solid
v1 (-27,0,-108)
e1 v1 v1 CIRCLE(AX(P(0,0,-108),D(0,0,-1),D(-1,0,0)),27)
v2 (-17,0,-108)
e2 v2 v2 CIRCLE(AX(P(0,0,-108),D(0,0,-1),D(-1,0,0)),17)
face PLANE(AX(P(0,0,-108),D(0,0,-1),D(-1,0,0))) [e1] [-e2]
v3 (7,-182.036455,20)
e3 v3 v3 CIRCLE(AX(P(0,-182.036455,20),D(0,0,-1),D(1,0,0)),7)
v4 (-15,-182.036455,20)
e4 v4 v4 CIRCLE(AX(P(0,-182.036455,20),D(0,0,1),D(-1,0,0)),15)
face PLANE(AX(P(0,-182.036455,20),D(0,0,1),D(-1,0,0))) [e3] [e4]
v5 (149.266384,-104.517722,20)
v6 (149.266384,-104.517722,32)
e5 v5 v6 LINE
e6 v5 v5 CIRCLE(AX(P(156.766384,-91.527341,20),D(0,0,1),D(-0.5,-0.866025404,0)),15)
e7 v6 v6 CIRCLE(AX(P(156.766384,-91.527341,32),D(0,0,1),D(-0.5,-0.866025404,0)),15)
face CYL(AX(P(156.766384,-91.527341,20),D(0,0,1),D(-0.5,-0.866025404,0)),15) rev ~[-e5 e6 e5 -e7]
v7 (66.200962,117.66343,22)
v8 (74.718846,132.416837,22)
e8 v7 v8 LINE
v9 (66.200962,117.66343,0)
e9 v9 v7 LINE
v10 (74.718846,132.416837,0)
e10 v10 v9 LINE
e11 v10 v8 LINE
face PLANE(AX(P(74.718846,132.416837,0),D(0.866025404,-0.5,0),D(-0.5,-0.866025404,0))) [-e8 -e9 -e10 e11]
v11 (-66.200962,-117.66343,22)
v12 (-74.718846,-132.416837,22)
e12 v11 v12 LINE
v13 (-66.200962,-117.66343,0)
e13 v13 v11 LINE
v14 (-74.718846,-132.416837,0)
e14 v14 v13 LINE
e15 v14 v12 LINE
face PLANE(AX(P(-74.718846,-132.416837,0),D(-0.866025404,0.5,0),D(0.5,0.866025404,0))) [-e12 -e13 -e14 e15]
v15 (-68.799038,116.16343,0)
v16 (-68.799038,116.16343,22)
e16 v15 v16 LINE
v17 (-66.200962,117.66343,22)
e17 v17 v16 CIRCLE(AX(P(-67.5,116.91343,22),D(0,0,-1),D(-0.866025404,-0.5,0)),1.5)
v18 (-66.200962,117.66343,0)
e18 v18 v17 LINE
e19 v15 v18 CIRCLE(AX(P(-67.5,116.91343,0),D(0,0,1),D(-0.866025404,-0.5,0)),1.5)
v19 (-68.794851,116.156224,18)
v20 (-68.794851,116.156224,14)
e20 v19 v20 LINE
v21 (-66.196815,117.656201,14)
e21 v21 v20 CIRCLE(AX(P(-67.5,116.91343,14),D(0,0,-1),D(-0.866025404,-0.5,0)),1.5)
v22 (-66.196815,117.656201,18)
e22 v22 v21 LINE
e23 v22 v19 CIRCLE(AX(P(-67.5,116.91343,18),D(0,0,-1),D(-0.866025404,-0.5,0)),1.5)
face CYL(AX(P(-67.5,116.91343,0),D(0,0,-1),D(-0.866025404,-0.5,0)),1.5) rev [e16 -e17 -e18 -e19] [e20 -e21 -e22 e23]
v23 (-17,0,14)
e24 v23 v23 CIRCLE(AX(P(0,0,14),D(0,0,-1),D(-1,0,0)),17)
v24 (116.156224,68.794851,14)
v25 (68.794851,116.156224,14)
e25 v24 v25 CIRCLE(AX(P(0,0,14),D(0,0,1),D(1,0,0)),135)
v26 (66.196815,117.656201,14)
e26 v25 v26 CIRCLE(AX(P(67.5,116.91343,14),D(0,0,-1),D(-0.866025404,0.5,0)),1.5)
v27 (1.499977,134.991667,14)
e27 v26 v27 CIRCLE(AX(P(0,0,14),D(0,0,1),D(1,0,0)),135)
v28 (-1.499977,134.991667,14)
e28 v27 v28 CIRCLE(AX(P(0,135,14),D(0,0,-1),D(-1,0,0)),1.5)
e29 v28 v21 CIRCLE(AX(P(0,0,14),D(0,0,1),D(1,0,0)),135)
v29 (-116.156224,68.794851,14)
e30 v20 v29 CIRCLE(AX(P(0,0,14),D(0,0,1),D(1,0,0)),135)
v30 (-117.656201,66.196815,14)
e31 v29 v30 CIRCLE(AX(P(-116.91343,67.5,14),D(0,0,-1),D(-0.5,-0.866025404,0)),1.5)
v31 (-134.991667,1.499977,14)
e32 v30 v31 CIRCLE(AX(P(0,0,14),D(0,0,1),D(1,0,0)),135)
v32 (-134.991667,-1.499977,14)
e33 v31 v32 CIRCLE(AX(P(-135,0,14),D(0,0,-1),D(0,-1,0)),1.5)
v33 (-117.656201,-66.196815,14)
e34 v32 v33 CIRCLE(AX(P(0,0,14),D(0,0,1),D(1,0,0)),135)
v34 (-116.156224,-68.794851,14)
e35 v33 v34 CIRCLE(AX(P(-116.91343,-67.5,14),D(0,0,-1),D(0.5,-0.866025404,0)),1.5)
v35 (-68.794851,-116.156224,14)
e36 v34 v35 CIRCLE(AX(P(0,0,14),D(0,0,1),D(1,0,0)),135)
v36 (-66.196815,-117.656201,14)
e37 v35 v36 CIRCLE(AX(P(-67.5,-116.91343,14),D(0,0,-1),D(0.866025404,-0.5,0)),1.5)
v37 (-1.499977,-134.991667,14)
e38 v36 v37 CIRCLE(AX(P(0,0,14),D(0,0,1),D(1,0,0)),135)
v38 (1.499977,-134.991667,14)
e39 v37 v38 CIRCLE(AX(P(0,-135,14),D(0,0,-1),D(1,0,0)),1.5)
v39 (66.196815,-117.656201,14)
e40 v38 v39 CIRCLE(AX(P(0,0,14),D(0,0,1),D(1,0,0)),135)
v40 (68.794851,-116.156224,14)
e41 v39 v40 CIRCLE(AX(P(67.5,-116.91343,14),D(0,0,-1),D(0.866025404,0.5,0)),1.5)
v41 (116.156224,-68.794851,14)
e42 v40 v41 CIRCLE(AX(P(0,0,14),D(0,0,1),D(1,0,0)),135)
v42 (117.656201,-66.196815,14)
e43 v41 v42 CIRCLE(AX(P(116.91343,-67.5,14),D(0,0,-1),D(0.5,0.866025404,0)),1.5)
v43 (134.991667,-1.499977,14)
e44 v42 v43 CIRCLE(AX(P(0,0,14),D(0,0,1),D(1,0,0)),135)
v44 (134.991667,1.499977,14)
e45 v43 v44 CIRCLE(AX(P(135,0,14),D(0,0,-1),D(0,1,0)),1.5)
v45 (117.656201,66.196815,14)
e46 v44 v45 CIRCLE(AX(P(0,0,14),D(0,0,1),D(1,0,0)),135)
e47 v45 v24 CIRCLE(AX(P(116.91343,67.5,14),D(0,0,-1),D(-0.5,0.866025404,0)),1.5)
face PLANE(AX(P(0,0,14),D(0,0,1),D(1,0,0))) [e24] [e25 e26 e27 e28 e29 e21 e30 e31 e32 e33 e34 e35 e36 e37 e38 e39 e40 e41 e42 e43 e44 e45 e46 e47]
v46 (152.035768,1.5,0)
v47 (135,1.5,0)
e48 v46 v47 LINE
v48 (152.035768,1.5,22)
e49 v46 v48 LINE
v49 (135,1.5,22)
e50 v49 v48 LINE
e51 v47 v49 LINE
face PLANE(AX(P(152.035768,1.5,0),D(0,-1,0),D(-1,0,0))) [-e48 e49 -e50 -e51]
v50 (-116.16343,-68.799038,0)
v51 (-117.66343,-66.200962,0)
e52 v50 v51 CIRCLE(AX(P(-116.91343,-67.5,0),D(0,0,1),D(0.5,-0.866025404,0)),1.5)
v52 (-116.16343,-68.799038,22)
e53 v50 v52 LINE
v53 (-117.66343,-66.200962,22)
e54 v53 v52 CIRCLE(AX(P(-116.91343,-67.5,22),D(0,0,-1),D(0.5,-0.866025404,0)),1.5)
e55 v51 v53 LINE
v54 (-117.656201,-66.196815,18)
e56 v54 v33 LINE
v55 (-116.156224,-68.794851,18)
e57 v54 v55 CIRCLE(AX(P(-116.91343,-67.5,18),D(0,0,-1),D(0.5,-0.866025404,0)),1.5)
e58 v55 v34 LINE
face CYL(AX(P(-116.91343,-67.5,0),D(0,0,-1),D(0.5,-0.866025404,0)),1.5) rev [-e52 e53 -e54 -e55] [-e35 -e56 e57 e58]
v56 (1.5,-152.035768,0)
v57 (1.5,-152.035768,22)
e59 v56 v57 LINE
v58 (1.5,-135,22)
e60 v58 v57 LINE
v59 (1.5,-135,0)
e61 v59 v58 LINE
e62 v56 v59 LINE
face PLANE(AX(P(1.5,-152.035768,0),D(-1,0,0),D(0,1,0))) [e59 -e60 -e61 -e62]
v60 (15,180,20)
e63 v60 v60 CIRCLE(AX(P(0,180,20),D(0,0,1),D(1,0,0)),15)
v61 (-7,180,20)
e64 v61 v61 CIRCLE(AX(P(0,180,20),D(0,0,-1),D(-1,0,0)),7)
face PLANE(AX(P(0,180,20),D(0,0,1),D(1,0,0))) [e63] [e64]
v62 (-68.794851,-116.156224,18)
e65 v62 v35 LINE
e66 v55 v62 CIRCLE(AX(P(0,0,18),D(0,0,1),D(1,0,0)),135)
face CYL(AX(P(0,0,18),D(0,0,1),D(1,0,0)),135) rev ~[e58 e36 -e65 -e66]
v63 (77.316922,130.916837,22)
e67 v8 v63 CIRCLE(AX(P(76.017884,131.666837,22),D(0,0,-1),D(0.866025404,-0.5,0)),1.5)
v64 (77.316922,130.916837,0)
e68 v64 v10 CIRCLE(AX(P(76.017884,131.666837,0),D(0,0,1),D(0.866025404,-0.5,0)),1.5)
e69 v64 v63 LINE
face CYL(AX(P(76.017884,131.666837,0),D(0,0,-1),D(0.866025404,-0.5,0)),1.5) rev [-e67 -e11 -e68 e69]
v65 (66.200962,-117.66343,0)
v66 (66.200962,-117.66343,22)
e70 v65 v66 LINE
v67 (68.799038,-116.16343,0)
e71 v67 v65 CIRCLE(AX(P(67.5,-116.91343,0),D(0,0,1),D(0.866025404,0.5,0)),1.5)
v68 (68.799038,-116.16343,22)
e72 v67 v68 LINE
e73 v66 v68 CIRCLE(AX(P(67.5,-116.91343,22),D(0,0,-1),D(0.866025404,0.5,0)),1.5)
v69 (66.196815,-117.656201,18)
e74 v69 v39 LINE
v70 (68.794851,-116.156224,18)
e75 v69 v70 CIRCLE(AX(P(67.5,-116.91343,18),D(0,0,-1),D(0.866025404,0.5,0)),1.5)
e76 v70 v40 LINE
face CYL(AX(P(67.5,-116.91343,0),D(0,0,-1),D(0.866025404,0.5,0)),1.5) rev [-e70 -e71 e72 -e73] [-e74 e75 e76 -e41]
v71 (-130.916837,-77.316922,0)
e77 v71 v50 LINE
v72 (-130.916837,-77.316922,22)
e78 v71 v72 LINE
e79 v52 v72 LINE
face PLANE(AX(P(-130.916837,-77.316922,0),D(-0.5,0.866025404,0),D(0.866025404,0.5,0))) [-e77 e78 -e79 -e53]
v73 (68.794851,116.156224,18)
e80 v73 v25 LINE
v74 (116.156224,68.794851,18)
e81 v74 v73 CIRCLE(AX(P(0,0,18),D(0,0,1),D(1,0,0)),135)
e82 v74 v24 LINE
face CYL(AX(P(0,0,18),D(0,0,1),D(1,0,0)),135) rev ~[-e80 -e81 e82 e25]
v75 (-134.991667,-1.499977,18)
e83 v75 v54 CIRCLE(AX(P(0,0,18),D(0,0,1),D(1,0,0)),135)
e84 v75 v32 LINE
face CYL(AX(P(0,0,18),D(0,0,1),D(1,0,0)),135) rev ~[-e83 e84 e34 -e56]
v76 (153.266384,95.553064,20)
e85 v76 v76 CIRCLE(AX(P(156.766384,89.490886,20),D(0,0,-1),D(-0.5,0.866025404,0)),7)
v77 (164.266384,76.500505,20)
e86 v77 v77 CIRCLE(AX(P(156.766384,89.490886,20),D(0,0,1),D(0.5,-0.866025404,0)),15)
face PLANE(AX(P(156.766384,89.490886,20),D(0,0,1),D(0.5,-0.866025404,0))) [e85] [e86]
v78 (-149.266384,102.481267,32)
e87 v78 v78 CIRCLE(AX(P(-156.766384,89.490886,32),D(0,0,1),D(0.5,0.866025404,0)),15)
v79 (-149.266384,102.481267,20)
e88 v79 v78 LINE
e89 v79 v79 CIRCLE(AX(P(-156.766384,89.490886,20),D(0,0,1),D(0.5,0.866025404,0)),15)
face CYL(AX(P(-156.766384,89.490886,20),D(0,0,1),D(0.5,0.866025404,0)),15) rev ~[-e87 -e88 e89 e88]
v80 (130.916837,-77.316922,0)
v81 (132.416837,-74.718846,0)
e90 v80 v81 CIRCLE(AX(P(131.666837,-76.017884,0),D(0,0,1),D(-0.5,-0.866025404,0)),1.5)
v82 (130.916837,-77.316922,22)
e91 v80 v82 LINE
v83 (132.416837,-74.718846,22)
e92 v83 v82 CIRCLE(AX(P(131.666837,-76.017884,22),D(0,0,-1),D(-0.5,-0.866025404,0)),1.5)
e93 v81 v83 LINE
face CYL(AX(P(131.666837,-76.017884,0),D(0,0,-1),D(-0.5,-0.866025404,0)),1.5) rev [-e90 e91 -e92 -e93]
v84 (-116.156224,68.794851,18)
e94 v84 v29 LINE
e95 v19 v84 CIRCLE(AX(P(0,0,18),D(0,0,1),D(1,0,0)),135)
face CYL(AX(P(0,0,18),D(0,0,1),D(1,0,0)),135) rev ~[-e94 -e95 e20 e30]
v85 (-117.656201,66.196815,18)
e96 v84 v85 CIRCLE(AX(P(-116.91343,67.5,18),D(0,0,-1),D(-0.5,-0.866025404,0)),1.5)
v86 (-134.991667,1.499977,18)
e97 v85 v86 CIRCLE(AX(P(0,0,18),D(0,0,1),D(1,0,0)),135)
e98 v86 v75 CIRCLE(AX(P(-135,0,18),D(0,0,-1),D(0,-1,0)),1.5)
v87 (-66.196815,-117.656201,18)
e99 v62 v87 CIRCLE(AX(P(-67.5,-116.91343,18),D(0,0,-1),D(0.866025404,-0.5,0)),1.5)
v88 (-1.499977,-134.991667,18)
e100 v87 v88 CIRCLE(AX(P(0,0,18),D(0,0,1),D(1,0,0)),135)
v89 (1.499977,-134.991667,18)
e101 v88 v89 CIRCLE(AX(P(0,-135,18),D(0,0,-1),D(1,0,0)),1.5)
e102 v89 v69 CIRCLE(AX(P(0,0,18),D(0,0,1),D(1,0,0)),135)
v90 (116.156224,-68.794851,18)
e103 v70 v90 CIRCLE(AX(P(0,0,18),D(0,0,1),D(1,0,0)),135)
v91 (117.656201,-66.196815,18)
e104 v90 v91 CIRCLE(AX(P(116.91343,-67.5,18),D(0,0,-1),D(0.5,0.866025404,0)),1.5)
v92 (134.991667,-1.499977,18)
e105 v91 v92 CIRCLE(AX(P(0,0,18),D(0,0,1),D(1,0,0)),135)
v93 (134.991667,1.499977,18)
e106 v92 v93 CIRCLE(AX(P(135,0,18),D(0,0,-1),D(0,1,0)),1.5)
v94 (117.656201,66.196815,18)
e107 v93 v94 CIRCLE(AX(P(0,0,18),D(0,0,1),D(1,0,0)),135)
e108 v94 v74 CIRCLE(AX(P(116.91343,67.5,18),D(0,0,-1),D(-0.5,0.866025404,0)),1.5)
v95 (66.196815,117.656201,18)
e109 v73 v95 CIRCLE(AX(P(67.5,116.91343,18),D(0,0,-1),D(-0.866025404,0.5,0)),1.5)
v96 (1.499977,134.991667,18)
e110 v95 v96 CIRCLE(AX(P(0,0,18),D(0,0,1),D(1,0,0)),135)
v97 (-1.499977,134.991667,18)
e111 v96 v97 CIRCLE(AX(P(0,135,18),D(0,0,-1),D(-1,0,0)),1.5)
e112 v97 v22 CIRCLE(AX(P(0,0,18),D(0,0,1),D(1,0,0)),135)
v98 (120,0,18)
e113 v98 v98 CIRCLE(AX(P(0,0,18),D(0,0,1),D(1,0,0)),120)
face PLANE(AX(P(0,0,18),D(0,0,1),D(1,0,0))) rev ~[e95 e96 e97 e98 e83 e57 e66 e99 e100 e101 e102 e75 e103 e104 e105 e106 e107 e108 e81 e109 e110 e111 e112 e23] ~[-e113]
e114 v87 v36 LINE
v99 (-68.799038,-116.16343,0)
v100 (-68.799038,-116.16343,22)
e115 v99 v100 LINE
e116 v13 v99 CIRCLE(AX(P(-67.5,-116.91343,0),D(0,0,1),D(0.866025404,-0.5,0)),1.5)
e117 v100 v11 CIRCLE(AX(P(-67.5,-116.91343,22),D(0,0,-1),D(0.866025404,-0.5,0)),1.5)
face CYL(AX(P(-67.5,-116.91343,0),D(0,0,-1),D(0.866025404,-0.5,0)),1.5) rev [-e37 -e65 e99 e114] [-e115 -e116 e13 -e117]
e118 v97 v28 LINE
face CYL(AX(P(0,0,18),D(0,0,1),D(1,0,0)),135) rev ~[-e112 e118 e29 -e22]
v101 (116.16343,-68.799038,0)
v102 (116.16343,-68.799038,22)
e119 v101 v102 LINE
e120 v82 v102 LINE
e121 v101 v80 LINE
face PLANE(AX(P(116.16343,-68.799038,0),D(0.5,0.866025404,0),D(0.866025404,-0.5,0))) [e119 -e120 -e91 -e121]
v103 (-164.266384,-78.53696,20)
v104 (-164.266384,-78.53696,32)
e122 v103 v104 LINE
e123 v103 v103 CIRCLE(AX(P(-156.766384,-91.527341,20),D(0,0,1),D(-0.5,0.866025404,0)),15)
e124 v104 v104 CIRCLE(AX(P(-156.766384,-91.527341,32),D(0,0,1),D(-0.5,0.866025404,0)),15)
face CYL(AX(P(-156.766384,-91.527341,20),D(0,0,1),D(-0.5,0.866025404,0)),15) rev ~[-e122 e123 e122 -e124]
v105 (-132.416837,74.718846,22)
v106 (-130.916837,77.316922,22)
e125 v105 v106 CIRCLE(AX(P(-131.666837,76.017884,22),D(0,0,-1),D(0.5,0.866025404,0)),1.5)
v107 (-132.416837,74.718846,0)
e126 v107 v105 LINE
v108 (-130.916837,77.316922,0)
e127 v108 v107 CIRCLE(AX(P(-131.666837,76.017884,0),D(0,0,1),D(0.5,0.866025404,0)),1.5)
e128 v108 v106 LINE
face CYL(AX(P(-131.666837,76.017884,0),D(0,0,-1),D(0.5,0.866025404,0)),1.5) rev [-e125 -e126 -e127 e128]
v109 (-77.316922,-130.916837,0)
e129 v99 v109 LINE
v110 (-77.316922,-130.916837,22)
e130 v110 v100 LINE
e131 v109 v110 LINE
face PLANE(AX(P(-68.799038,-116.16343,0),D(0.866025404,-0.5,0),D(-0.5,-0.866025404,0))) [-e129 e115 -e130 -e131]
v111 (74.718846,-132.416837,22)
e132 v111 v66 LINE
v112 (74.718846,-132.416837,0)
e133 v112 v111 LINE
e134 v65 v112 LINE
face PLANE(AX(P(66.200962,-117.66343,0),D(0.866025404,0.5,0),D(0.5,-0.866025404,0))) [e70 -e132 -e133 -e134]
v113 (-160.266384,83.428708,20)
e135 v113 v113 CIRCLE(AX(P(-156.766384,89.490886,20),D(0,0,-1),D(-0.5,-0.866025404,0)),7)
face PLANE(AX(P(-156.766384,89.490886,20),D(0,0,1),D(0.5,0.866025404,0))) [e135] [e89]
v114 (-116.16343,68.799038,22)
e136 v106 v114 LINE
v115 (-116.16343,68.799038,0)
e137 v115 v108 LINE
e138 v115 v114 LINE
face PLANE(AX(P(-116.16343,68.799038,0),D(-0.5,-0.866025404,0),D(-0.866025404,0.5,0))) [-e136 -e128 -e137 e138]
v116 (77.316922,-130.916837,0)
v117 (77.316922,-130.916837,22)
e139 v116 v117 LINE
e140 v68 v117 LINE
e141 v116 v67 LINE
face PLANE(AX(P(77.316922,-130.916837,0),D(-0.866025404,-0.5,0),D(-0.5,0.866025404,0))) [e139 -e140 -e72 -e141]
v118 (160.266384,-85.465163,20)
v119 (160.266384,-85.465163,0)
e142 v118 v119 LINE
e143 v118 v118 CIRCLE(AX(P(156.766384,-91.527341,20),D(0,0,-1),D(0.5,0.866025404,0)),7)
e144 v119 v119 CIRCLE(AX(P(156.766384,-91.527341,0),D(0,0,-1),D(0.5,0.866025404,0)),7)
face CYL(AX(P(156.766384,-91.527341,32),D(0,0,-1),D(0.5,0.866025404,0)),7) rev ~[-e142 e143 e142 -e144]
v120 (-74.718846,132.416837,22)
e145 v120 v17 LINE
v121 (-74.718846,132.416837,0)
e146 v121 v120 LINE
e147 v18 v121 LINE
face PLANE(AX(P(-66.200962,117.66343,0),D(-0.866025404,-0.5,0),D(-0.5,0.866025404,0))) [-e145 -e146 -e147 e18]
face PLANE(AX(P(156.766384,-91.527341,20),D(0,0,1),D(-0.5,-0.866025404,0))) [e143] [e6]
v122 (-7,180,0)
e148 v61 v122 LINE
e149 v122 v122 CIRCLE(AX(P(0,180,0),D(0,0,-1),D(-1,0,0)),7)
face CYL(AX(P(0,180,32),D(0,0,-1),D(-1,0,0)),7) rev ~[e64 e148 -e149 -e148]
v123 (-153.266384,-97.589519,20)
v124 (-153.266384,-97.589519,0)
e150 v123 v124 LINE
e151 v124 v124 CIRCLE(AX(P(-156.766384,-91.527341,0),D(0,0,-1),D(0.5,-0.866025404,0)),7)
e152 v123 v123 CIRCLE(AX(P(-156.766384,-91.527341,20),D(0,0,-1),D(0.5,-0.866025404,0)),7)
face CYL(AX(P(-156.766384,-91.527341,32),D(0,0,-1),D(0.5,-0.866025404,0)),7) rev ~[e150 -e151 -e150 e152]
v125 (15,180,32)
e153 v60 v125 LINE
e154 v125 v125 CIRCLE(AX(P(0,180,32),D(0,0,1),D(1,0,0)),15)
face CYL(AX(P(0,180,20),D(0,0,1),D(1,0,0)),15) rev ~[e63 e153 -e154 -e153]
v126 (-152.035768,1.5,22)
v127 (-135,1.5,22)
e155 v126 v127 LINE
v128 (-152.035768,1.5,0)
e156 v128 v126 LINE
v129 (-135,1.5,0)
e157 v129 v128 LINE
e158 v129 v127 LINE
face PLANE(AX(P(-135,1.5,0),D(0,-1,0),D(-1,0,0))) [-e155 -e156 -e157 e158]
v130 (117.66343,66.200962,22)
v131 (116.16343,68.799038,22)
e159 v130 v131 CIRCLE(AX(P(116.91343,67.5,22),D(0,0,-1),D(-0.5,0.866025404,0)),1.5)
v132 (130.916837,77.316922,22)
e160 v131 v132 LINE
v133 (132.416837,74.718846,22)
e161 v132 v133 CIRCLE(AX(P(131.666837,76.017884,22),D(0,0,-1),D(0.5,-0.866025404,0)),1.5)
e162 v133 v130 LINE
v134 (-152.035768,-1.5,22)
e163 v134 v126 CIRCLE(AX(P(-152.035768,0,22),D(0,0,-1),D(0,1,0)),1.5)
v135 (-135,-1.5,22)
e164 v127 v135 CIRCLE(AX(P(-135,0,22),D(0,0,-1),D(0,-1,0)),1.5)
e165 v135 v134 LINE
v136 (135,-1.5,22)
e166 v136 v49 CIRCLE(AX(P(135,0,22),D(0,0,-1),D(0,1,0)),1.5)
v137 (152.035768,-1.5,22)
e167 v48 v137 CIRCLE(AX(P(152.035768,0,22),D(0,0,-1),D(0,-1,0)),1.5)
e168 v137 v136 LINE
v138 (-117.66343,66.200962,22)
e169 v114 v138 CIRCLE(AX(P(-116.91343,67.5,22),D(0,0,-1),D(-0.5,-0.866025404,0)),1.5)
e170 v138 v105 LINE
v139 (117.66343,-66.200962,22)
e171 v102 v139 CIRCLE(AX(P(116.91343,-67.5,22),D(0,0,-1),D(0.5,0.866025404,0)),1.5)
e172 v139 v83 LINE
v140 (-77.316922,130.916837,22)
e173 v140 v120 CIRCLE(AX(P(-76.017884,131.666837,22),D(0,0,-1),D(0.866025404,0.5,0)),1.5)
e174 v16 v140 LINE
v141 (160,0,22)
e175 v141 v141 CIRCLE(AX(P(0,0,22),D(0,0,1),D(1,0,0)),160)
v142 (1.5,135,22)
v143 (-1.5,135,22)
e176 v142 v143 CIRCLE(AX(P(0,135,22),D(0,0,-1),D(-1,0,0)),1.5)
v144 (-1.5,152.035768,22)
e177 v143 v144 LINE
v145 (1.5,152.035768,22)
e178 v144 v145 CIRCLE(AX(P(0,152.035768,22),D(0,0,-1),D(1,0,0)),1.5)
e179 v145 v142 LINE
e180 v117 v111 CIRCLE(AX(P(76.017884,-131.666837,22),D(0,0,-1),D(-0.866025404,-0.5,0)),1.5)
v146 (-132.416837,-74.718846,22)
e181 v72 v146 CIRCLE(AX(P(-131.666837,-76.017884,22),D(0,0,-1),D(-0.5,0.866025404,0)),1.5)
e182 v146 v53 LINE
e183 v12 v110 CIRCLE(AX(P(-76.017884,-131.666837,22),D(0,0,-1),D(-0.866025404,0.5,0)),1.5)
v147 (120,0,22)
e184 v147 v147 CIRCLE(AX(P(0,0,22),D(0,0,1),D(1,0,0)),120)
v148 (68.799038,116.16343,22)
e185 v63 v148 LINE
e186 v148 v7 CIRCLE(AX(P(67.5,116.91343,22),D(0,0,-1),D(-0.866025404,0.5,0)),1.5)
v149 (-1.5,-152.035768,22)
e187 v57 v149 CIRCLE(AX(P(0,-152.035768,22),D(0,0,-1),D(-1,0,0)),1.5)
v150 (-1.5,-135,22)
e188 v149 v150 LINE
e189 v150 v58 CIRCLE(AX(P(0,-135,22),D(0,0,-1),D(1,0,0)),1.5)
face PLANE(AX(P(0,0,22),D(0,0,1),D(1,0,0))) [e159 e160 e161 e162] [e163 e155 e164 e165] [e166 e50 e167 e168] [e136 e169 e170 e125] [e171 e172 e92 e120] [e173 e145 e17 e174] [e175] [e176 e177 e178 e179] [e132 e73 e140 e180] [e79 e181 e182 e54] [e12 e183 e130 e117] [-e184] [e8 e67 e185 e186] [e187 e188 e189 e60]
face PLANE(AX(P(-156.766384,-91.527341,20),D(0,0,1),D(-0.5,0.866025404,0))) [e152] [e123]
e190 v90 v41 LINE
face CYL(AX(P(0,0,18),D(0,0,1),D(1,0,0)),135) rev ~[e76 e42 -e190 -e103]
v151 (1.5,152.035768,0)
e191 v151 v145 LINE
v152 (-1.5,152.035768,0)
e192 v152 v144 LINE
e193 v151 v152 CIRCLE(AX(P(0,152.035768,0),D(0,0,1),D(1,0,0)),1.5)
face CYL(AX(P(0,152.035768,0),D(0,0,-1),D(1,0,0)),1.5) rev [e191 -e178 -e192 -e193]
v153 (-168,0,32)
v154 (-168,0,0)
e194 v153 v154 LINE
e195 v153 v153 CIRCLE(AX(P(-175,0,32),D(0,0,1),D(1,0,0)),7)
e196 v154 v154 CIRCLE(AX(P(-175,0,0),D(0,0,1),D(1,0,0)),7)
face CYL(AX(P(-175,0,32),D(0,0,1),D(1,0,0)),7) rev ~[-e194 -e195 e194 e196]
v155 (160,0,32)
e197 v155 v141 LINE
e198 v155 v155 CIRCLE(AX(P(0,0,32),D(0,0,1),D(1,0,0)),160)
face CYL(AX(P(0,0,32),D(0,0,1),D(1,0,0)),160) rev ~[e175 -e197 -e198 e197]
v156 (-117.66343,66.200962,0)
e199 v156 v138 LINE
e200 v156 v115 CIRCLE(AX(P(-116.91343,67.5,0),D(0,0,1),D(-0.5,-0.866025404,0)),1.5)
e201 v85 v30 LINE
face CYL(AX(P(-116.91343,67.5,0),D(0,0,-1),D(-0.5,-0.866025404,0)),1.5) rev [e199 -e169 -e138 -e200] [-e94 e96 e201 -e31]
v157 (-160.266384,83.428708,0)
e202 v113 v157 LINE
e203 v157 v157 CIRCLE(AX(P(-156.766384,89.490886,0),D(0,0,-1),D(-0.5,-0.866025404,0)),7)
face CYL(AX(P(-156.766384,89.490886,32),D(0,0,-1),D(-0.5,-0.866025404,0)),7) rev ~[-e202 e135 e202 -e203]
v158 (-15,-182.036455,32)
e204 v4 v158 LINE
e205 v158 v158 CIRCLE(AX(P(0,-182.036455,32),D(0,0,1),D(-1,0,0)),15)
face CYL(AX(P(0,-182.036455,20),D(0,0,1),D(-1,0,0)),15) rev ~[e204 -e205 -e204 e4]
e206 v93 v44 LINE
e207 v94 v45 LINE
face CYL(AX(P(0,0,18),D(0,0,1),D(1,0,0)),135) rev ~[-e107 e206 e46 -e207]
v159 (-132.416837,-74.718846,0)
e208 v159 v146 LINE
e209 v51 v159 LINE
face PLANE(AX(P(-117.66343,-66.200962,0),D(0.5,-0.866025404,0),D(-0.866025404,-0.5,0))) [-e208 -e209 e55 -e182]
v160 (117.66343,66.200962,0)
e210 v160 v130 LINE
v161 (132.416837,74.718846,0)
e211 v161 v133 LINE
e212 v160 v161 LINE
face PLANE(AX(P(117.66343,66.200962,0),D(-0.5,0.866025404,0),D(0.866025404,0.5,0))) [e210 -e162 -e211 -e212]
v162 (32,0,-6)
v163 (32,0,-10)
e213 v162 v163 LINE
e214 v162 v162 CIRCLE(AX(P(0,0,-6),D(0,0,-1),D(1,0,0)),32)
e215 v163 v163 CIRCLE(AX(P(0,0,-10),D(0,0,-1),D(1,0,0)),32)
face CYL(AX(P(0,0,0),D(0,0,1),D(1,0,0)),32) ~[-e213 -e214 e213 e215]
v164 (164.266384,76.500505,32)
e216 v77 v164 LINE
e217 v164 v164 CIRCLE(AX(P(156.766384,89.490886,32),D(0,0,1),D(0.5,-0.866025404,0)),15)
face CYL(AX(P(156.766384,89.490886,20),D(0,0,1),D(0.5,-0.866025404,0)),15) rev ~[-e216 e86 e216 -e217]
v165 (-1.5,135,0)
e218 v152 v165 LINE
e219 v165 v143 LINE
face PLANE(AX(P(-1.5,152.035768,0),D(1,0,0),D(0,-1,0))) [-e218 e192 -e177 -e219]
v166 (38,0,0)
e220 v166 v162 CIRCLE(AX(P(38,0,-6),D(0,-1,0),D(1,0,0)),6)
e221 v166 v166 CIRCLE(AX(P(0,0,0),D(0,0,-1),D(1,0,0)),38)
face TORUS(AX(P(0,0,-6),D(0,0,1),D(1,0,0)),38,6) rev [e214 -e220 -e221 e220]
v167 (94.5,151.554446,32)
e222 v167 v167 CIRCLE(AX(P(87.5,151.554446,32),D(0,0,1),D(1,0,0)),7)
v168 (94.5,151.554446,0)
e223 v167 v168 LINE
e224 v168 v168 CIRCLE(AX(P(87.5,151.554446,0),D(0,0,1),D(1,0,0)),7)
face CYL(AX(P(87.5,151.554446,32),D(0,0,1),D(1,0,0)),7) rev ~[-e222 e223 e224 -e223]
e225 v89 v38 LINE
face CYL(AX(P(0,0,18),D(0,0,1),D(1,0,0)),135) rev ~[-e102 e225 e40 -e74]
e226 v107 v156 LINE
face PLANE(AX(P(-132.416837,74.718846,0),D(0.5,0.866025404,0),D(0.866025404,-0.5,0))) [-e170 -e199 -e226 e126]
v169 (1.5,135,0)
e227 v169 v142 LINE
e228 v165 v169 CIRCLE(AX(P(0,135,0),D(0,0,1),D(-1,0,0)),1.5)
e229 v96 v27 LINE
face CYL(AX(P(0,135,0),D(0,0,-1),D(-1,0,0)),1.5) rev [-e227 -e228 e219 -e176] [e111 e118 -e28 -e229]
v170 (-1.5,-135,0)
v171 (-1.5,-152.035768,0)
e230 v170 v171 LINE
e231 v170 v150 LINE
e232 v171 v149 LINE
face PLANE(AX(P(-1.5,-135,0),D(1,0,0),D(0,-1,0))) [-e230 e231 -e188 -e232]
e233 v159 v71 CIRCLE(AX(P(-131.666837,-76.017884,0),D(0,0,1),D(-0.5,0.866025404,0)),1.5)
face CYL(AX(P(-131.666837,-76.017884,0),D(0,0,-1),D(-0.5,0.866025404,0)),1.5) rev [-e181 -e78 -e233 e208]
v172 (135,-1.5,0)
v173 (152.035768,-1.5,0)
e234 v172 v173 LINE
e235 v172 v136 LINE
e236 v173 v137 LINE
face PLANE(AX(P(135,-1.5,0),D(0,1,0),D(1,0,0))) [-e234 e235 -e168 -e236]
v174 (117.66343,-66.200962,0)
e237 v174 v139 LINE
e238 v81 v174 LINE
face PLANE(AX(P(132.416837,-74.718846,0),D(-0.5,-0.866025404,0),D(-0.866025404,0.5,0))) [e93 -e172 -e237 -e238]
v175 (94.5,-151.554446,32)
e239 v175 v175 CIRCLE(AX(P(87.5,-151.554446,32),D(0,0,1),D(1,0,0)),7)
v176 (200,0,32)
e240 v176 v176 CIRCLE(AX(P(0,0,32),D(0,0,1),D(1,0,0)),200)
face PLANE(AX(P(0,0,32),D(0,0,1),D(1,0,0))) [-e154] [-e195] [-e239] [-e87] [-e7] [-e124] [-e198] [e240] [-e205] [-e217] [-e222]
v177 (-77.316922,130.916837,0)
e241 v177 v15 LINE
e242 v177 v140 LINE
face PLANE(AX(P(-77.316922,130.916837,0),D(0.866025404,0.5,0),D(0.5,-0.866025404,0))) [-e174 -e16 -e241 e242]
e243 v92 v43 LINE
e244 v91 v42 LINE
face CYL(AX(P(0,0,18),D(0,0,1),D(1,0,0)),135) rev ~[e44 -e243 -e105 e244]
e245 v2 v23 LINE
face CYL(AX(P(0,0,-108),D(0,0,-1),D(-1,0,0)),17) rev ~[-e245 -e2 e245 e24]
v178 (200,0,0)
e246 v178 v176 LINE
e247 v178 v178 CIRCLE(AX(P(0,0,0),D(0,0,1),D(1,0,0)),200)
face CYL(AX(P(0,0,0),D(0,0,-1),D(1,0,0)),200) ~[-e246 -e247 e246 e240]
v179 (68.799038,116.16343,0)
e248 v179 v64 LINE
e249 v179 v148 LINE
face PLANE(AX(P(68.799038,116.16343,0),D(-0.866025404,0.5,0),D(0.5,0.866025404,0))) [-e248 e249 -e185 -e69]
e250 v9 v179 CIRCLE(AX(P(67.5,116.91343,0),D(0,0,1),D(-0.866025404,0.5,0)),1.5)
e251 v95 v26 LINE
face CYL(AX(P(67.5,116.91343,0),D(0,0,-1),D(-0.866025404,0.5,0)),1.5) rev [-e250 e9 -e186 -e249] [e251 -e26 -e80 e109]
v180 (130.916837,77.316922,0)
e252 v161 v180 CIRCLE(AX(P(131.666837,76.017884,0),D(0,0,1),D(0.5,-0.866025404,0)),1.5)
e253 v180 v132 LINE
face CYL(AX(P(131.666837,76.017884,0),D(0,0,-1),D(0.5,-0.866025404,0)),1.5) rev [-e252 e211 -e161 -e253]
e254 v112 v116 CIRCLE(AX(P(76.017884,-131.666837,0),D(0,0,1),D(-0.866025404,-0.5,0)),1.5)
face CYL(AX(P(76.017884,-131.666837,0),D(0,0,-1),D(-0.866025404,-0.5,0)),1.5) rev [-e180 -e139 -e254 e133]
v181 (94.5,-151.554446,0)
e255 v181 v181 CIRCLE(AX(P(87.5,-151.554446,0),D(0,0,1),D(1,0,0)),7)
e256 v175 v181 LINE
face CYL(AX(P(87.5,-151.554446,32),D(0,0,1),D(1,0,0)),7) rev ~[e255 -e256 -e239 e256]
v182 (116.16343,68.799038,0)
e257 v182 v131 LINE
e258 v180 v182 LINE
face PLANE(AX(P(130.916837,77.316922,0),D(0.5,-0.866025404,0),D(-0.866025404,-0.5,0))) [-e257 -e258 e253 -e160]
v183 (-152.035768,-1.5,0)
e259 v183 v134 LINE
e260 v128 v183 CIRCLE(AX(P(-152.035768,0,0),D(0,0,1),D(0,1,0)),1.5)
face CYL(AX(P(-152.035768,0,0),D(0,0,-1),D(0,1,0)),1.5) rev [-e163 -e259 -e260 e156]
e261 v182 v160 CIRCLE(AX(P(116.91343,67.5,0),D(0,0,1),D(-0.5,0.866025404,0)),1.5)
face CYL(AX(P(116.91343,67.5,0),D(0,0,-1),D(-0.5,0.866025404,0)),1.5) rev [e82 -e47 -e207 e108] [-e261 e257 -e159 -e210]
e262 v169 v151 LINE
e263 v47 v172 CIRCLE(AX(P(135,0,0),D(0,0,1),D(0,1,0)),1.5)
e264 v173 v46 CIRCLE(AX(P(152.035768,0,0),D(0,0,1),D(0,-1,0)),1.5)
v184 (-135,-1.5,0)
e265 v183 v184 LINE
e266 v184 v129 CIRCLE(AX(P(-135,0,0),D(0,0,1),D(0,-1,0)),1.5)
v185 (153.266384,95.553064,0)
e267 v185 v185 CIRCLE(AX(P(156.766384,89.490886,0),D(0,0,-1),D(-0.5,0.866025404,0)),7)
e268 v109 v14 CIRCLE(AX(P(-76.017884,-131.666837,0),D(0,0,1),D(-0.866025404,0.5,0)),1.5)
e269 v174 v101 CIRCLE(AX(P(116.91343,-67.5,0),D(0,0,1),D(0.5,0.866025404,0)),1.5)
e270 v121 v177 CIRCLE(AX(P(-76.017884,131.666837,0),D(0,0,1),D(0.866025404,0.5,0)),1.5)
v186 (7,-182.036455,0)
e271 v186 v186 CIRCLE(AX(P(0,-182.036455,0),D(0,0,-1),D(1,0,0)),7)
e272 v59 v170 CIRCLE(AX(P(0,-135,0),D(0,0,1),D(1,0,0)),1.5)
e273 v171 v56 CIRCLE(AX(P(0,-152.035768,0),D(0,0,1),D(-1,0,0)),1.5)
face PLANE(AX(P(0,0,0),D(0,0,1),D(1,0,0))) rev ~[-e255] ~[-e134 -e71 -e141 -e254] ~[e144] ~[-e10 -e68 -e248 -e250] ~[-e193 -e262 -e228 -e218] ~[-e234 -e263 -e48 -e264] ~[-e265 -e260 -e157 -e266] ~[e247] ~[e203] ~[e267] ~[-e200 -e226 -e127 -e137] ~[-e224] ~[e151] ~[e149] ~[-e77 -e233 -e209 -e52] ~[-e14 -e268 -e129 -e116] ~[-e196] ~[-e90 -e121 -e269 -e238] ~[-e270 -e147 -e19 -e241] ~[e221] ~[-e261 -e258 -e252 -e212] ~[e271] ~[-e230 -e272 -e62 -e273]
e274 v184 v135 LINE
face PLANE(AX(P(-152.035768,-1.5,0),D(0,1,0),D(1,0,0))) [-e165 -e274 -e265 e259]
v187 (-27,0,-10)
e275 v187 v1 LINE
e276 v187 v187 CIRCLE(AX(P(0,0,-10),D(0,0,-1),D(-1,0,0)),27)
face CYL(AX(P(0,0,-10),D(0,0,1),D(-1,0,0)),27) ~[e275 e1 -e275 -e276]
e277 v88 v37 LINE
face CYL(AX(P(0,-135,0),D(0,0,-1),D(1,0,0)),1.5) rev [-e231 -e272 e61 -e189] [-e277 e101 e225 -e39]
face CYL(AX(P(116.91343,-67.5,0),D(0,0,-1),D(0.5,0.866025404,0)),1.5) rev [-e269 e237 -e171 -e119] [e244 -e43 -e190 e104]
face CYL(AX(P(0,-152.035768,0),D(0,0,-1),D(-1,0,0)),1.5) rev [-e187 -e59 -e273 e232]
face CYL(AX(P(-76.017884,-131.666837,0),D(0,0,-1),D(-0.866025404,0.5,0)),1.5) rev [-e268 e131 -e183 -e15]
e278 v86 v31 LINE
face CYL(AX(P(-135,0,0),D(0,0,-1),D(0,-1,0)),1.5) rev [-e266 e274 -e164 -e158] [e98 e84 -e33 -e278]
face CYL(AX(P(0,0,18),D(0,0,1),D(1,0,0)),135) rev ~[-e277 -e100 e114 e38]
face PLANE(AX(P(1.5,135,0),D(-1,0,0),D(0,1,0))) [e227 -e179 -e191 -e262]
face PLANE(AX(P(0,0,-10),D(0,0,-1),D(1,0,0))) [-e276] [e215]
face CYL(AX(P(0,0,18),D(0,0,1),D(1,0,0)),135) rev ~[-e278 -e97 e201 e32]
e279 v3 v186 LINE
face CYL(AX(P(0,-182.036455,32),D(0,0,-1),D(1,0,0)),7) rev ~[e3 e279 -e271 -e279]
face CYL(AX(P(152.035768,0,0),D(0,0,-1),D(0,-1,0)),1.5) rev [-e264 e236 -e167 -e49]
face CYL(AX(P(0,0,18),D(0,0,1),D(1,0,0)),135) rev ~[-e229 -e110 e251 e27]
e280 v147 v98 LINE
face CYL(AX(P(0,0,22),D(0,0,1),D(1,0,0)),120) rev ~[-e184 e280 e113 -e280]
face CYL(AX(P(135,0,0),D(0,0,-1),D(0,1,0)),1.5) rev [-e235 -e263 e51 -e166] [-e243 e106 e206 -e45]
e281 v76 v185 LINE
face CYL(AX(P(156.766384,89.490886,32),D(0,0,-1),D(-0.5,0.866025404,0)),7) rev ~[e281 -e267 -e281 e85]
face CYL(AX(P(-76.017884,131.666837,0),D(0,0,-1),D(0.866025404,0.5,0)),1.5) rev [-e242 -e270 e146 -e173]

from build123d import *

# Parameters (mm, degrees)
SKETCH2_R                               = 200
BOSS_EXTRUDE1_DEPTH                     = 32
CBORE_FOR_M5_HEX_HEAD_BOLT2_D           = 14
CBORE_FOR_M5_HEX_HEAD_BOLT2_CBORE_D     = 30
CBORE_FOR_M5_HEX_HEAD_BOLT2_CBORE_DEPTH = 12
CIRPATTERN1_COUNT                       = 6
SKETCH9_R                               = 7
CUT_EXTRUDE1_DEPTH                      = 285.647149995
SKETCH12_R                              = 160
CUT_EXTRUDE7_DEPTH                      = 10
SKETCH13_R                              = 120
CUT_EXTRUDE8_DEPTH                      = 4
CUT_EXTRUDE9_DEPTH                      = 285.647149995
SKETCH16_R                              = 135
CUT_EXTRUDE10_DEPTH                     = 4
SKETCH17_R                              = 32
BOSS_EXTRUDE2_DEPTH                     = 10
FILLET1_R                               = 6
SKETCH18_R                              = 27
BOSS_EXTRUDE3_DEPTH                     = 98
SKETCH20_R                              = 21
BOSS_EXTRUDE4_DEPTH                     = 32
SKETCH19_R                              = 17
CUT_EXTRUDE11_DEPTH                     = 128


with BuildPart() as part:
    # Sketch2 → Boss-Extrude1 (new body)
    with BuildSketch(Plane.XY):
        Circle(SKETCH2_R)
    extrude(amount=BOSS_EXTRUDE1_DEPTH)

    # CBORE for M5 Hex Head Bolt2 (through all)
    with Locations(Plane.XY.offset(32)):
        with Locations((0, 180)):
            cbore_for_m5_hex_head_bolt2 = CounterBoreHole(CBORE_FOR_M5_HEX_HEAD_BOLT2_D / 2, CBORE_FOR_M5_HEX_HEAD_BOLT2_CBORE_D / 2, CBORE_FOR_M5_HEX_HEAD_BOLT2_CBORE_DEPTH)

    # CirPattern1: CBORE for M5 Hex Head Bolt2 ×6 about axis
    cirpattern1_axis = Axis((0, -1.01822753, 0), (0, 0, 1))
    for i in range(1, CIRPATTERN1_COUNT):
        add(cbore_for_m5_hex_head_bolt2.rotate(cirpattern1_axis, i * 360 / CIRPATTERN1_COUNT), mode=Mode.SUBTRACT)

    # Sketch9 → Cut-Extrude1 (cut, through all)
    with BuildSketch(Plane.XY.offset(32)):
        with Locations((-175, 0)):
            Circle(SKETCH9_R)
        with Locations((87.5, 151.554445662)):
            Circle(SKETCH9_R)
        with Locations((87.5, -151.554445662)):
            Circle(SKETCH9_R)
    extrude(amount=-CUT_EXTRUDE1_DEPTH, mode=Mode.SUBTRACT)

    # Sketch12 → Cut-Extrude7 (cut)
    with BuildSketch(Plane.XY.offset(32)):
        Circle(SKETCH12_R)
    extrude(amount=-CUT_EXTRUDE7_DEPTH, mode=Mode.SUBTRACT)

    # Sketch13 → Cut-Extrude8 (cut)
    with BuildSketch(Plane.XY.offset(22)):
        Circle(SKETCH13_R)
    extrude(amount=-CUT_EXTRUDE8_DEPTH, mode=Mode.SUBTRACT)

    # Sketch15 → Cut-Extrude9 (cut, through all)
    with BuildSketch(Plane(origin=(0, 0, 0), x_dir=(-1, 0, 0), z_dir=(0, 0, -1))):
        with BuildLine():
            Line((1.5, -135), (1.5, -152.035767594))
            ThreePointArc((1.5, -152.035767594), (0, -153.535767594), (-1.5, -152.035767594))
            Line((-1.5, -152.035767594), (-1.5, -135))
            ThreePointArc((-1.5, -135), (0, -133.5), (1.5, -135))
        make_face()
        with BuildLine():
            Line((-66.200961894, -117.663429511), (-74.718845691, -132.41683702))
            ThreePointArc((-74.718845691, -132.41683702), (-76.767883797, -132.965875126), (-77.316921902, -130.91683702))
            Line((-77.316921902, -130.91683702), (-68.799038106, -116.163429511))
            ThreePointArc((-68.799038106, -116.163429511), (-66.75, -115.614391405), (-66.200961894, -117.663429511))
        make_face()
        with BuildLine():
            Line((-116.163429511, -68.799038106), (-130.91683702, -77.316921902))
            ThreePointArc((-130.91683702, -77.316921902), (-132.965875126, -76.767883797), (-132.41683702, -74.718845691))
            Line((-132.41683702, -74.718845691), (-117.663429511, -66.200961894))
            ThreePointArc((-117.663429511, -66.200961894), (-115.614391405, -66.75), (-116.163429511, -68.799038106))
        make_face()
        with BuildLine():
            Line((-135, -1.5), (-152.035767594, -1.5))
            ThreePointArc((-152.035767594, -1.5), (-153.535767594, 0), (-152.035767594, 1.5))
            Line((-152.035767594, 1.5), (-135, 1.5))
            ThreePointArc((-135, 1.5), (-133.5, 0), (-135, -1.5))
        make_face()
        with BuildLine():
            Line((-117.663429511, 66.200961894), (-132.41683702, 74.718845691))
            ThreePointArc((-132.41683702, 74.718845691), (-132.965875126, 76.767883797), (-130.91683702, 77.316921902))
            Line((-130.91683702, 77.316921902), (-116.163429511, 68.799038106))
            ThreePointArc((-116.163429511, 68.799038106), (-115.614391405, 66.75), (-117.663429511, 66.200961894))
        make_face()
        with BuildLine():
            Line((-68.799038106, 116.163429511), (-77.316921902, 130.91683702))
            ThreePointArc((-77.316921902, 130.91683702), (-76.767883797, 132.965875126), (-74.718845691, 132.41683702))
            Line((-74.718845691, 132.41683702), (-66.200961894, 117.663429511))
            ThreePointArc((-66.200961894, 117.663429511), (-66.75, 115.614391405), (-68.799038106, 116.163429511))
        make_face()
        with BuildLine():
            Line((-1.5, 135), (-1.5, 152.035767594))
            ThreePointArc((-1.5, 152.035767594), (0, 153.535767594), (1.5, 152.035767594))
            Line((1.5, 152.035767594), (1.5, 135))
            ThreePointArc((1.5, 135), (0, 133.5), (-1.5, 135))
        make_face()
        with BuildLine():
            Line((66.200961894, 117.663429511), (74.718845691, 132.41683702))
            ThreePointArc((74.718845691, 132.41683702), (76.767883797, 132.965875126), (77.316921902, 130.91683702))
            Line((77.316921902, 130.91683702), (68.799038106, 116.163429511))
            ThreePointArc((68.799038106, 116.163429511), (66.75, 115.614391405), (66.200961894, 117.663429511))
        make_face()
        with BuildLine():
            Line((116.163429511, 68.799038106), (130.91683702, 77.316921902))
            ThreePointArc((130.91683702, 77.316921902), (132.965875126, 76.767883797), (132.41683702, 74.718845691))
            Line((132.41683702, 74.718845691), (117.663429511, 66.200961894))
            ThreePointArc((117.663429511, 66.200961894), (115.614391405, 66.75), (116.163429511, 68.799038106))
        make_face()
        with BuildLine():
            Line((135, 1.5), (152.035767594, 1.5))
            ThreePointArc((152.035767594, 1.5), (153.535767594, 0), (152.035767594, -1.5))
            Line((152.035767594, -1.5), (135, -1.5))
            ThreePointArc((135, -1.5), (133.5, 0), (135, 1.5))
        make_face()
        with BuildLine():
            Line((117.663429511, -66.200961894), (132.41683702, -74.718845691))
            ThreePointArc((132.41683702, -74.718845691), (132.965875126, -76.767883797), (130.91683702, -77.316921902))
            Line((130.91683702, -77.316921902), (116.163429511, -68.799038106))
            ThreePointArc((116.163429511, -68.799038106), (115.614391405, -66.75), (117.663429511, -66.200961894))
        make_face()
        with BuildLine():
            Line((68.799038106, -116.163429511), (77.316921902, -130.91683702))
            ThreePointArc((77.316921902, -130.91683702), (76.767883797, -132.965875126), (74.718845691, -132.41683702))
            Line((74.718845691, -132.41683702), (66.200961894, -117.663429511))
            ThreePointArc((66.200961894, -117.663429511), (66.75, -115.614391405), (68.799038106, -116.163429511))
        make_face()
    extrude(amount=-CUT_EXTRUDE9_DEPTH, mode=Mode.SUBTRACT)

    # Sketch16 → Cut-Extrude10 (cut)
    with BuildSketch(Plane.XY.offset(18)):
        Circle(SKETCH16_R)
    extrude(amount=-CUT_EXTRUDE10_DEPTH, mode=Mode.SUBTRACT)

    # Sketch17 → Boss-Extrude2 (add)
    with BuildSketch(Plane(origin=(0, 0, 0), x_dir=(-1, 0, 0), z_dir=(0, 0, -1))):
        with Locations(Location((0, 0, 0), (0, 0, 180))):
            Circle(SKETCH17_R)
    extrude(amount=BOSS_EXTRUDE2_DEPTH)

    # Fillet1
    fillet1_edges = [part.edges().sort_by_distance(p)[0] for p in [
        (-32, 0, 0),
    ]]
    fillet(fillet1_edges, radius=FILLET1_R)

    # Sketch18 → Boss-Extrude3 (add)
    with BuildSketch(Plane(origin=(0, 0, -10), x_dir=(-1, 0, 0), z_dir=(0, 0, -1))):
        Circle(SKETCH18_R)
    extrude(amount=BOSS_EXTRUDE3_DEPTH)

    # Sketch20 → Boss-Extrude4 (add)
    with BuildSketch(Plane(origin=(0, 0, -108), x_dir=(-1, 0, 0), z_dir=(0, 0, -1))):
        Circle(SKETCH20_R)
    extrude(amount=-BOSS_EXTRUDE4_DEPTH)

    # Sketch19 → Cut-Extrude11 (cut)
    with BuildSketch(Plane(origin=(0, 0, -108), x_dir=(-1, 0, 0), z_dir=(0, 0, -1))):
        Circle(SKETCH19_R)
    extrude(amount=-CUT_EXTRUDE11_DEPTH, mode=Mode.SUBTRACT)


solid = part.part
